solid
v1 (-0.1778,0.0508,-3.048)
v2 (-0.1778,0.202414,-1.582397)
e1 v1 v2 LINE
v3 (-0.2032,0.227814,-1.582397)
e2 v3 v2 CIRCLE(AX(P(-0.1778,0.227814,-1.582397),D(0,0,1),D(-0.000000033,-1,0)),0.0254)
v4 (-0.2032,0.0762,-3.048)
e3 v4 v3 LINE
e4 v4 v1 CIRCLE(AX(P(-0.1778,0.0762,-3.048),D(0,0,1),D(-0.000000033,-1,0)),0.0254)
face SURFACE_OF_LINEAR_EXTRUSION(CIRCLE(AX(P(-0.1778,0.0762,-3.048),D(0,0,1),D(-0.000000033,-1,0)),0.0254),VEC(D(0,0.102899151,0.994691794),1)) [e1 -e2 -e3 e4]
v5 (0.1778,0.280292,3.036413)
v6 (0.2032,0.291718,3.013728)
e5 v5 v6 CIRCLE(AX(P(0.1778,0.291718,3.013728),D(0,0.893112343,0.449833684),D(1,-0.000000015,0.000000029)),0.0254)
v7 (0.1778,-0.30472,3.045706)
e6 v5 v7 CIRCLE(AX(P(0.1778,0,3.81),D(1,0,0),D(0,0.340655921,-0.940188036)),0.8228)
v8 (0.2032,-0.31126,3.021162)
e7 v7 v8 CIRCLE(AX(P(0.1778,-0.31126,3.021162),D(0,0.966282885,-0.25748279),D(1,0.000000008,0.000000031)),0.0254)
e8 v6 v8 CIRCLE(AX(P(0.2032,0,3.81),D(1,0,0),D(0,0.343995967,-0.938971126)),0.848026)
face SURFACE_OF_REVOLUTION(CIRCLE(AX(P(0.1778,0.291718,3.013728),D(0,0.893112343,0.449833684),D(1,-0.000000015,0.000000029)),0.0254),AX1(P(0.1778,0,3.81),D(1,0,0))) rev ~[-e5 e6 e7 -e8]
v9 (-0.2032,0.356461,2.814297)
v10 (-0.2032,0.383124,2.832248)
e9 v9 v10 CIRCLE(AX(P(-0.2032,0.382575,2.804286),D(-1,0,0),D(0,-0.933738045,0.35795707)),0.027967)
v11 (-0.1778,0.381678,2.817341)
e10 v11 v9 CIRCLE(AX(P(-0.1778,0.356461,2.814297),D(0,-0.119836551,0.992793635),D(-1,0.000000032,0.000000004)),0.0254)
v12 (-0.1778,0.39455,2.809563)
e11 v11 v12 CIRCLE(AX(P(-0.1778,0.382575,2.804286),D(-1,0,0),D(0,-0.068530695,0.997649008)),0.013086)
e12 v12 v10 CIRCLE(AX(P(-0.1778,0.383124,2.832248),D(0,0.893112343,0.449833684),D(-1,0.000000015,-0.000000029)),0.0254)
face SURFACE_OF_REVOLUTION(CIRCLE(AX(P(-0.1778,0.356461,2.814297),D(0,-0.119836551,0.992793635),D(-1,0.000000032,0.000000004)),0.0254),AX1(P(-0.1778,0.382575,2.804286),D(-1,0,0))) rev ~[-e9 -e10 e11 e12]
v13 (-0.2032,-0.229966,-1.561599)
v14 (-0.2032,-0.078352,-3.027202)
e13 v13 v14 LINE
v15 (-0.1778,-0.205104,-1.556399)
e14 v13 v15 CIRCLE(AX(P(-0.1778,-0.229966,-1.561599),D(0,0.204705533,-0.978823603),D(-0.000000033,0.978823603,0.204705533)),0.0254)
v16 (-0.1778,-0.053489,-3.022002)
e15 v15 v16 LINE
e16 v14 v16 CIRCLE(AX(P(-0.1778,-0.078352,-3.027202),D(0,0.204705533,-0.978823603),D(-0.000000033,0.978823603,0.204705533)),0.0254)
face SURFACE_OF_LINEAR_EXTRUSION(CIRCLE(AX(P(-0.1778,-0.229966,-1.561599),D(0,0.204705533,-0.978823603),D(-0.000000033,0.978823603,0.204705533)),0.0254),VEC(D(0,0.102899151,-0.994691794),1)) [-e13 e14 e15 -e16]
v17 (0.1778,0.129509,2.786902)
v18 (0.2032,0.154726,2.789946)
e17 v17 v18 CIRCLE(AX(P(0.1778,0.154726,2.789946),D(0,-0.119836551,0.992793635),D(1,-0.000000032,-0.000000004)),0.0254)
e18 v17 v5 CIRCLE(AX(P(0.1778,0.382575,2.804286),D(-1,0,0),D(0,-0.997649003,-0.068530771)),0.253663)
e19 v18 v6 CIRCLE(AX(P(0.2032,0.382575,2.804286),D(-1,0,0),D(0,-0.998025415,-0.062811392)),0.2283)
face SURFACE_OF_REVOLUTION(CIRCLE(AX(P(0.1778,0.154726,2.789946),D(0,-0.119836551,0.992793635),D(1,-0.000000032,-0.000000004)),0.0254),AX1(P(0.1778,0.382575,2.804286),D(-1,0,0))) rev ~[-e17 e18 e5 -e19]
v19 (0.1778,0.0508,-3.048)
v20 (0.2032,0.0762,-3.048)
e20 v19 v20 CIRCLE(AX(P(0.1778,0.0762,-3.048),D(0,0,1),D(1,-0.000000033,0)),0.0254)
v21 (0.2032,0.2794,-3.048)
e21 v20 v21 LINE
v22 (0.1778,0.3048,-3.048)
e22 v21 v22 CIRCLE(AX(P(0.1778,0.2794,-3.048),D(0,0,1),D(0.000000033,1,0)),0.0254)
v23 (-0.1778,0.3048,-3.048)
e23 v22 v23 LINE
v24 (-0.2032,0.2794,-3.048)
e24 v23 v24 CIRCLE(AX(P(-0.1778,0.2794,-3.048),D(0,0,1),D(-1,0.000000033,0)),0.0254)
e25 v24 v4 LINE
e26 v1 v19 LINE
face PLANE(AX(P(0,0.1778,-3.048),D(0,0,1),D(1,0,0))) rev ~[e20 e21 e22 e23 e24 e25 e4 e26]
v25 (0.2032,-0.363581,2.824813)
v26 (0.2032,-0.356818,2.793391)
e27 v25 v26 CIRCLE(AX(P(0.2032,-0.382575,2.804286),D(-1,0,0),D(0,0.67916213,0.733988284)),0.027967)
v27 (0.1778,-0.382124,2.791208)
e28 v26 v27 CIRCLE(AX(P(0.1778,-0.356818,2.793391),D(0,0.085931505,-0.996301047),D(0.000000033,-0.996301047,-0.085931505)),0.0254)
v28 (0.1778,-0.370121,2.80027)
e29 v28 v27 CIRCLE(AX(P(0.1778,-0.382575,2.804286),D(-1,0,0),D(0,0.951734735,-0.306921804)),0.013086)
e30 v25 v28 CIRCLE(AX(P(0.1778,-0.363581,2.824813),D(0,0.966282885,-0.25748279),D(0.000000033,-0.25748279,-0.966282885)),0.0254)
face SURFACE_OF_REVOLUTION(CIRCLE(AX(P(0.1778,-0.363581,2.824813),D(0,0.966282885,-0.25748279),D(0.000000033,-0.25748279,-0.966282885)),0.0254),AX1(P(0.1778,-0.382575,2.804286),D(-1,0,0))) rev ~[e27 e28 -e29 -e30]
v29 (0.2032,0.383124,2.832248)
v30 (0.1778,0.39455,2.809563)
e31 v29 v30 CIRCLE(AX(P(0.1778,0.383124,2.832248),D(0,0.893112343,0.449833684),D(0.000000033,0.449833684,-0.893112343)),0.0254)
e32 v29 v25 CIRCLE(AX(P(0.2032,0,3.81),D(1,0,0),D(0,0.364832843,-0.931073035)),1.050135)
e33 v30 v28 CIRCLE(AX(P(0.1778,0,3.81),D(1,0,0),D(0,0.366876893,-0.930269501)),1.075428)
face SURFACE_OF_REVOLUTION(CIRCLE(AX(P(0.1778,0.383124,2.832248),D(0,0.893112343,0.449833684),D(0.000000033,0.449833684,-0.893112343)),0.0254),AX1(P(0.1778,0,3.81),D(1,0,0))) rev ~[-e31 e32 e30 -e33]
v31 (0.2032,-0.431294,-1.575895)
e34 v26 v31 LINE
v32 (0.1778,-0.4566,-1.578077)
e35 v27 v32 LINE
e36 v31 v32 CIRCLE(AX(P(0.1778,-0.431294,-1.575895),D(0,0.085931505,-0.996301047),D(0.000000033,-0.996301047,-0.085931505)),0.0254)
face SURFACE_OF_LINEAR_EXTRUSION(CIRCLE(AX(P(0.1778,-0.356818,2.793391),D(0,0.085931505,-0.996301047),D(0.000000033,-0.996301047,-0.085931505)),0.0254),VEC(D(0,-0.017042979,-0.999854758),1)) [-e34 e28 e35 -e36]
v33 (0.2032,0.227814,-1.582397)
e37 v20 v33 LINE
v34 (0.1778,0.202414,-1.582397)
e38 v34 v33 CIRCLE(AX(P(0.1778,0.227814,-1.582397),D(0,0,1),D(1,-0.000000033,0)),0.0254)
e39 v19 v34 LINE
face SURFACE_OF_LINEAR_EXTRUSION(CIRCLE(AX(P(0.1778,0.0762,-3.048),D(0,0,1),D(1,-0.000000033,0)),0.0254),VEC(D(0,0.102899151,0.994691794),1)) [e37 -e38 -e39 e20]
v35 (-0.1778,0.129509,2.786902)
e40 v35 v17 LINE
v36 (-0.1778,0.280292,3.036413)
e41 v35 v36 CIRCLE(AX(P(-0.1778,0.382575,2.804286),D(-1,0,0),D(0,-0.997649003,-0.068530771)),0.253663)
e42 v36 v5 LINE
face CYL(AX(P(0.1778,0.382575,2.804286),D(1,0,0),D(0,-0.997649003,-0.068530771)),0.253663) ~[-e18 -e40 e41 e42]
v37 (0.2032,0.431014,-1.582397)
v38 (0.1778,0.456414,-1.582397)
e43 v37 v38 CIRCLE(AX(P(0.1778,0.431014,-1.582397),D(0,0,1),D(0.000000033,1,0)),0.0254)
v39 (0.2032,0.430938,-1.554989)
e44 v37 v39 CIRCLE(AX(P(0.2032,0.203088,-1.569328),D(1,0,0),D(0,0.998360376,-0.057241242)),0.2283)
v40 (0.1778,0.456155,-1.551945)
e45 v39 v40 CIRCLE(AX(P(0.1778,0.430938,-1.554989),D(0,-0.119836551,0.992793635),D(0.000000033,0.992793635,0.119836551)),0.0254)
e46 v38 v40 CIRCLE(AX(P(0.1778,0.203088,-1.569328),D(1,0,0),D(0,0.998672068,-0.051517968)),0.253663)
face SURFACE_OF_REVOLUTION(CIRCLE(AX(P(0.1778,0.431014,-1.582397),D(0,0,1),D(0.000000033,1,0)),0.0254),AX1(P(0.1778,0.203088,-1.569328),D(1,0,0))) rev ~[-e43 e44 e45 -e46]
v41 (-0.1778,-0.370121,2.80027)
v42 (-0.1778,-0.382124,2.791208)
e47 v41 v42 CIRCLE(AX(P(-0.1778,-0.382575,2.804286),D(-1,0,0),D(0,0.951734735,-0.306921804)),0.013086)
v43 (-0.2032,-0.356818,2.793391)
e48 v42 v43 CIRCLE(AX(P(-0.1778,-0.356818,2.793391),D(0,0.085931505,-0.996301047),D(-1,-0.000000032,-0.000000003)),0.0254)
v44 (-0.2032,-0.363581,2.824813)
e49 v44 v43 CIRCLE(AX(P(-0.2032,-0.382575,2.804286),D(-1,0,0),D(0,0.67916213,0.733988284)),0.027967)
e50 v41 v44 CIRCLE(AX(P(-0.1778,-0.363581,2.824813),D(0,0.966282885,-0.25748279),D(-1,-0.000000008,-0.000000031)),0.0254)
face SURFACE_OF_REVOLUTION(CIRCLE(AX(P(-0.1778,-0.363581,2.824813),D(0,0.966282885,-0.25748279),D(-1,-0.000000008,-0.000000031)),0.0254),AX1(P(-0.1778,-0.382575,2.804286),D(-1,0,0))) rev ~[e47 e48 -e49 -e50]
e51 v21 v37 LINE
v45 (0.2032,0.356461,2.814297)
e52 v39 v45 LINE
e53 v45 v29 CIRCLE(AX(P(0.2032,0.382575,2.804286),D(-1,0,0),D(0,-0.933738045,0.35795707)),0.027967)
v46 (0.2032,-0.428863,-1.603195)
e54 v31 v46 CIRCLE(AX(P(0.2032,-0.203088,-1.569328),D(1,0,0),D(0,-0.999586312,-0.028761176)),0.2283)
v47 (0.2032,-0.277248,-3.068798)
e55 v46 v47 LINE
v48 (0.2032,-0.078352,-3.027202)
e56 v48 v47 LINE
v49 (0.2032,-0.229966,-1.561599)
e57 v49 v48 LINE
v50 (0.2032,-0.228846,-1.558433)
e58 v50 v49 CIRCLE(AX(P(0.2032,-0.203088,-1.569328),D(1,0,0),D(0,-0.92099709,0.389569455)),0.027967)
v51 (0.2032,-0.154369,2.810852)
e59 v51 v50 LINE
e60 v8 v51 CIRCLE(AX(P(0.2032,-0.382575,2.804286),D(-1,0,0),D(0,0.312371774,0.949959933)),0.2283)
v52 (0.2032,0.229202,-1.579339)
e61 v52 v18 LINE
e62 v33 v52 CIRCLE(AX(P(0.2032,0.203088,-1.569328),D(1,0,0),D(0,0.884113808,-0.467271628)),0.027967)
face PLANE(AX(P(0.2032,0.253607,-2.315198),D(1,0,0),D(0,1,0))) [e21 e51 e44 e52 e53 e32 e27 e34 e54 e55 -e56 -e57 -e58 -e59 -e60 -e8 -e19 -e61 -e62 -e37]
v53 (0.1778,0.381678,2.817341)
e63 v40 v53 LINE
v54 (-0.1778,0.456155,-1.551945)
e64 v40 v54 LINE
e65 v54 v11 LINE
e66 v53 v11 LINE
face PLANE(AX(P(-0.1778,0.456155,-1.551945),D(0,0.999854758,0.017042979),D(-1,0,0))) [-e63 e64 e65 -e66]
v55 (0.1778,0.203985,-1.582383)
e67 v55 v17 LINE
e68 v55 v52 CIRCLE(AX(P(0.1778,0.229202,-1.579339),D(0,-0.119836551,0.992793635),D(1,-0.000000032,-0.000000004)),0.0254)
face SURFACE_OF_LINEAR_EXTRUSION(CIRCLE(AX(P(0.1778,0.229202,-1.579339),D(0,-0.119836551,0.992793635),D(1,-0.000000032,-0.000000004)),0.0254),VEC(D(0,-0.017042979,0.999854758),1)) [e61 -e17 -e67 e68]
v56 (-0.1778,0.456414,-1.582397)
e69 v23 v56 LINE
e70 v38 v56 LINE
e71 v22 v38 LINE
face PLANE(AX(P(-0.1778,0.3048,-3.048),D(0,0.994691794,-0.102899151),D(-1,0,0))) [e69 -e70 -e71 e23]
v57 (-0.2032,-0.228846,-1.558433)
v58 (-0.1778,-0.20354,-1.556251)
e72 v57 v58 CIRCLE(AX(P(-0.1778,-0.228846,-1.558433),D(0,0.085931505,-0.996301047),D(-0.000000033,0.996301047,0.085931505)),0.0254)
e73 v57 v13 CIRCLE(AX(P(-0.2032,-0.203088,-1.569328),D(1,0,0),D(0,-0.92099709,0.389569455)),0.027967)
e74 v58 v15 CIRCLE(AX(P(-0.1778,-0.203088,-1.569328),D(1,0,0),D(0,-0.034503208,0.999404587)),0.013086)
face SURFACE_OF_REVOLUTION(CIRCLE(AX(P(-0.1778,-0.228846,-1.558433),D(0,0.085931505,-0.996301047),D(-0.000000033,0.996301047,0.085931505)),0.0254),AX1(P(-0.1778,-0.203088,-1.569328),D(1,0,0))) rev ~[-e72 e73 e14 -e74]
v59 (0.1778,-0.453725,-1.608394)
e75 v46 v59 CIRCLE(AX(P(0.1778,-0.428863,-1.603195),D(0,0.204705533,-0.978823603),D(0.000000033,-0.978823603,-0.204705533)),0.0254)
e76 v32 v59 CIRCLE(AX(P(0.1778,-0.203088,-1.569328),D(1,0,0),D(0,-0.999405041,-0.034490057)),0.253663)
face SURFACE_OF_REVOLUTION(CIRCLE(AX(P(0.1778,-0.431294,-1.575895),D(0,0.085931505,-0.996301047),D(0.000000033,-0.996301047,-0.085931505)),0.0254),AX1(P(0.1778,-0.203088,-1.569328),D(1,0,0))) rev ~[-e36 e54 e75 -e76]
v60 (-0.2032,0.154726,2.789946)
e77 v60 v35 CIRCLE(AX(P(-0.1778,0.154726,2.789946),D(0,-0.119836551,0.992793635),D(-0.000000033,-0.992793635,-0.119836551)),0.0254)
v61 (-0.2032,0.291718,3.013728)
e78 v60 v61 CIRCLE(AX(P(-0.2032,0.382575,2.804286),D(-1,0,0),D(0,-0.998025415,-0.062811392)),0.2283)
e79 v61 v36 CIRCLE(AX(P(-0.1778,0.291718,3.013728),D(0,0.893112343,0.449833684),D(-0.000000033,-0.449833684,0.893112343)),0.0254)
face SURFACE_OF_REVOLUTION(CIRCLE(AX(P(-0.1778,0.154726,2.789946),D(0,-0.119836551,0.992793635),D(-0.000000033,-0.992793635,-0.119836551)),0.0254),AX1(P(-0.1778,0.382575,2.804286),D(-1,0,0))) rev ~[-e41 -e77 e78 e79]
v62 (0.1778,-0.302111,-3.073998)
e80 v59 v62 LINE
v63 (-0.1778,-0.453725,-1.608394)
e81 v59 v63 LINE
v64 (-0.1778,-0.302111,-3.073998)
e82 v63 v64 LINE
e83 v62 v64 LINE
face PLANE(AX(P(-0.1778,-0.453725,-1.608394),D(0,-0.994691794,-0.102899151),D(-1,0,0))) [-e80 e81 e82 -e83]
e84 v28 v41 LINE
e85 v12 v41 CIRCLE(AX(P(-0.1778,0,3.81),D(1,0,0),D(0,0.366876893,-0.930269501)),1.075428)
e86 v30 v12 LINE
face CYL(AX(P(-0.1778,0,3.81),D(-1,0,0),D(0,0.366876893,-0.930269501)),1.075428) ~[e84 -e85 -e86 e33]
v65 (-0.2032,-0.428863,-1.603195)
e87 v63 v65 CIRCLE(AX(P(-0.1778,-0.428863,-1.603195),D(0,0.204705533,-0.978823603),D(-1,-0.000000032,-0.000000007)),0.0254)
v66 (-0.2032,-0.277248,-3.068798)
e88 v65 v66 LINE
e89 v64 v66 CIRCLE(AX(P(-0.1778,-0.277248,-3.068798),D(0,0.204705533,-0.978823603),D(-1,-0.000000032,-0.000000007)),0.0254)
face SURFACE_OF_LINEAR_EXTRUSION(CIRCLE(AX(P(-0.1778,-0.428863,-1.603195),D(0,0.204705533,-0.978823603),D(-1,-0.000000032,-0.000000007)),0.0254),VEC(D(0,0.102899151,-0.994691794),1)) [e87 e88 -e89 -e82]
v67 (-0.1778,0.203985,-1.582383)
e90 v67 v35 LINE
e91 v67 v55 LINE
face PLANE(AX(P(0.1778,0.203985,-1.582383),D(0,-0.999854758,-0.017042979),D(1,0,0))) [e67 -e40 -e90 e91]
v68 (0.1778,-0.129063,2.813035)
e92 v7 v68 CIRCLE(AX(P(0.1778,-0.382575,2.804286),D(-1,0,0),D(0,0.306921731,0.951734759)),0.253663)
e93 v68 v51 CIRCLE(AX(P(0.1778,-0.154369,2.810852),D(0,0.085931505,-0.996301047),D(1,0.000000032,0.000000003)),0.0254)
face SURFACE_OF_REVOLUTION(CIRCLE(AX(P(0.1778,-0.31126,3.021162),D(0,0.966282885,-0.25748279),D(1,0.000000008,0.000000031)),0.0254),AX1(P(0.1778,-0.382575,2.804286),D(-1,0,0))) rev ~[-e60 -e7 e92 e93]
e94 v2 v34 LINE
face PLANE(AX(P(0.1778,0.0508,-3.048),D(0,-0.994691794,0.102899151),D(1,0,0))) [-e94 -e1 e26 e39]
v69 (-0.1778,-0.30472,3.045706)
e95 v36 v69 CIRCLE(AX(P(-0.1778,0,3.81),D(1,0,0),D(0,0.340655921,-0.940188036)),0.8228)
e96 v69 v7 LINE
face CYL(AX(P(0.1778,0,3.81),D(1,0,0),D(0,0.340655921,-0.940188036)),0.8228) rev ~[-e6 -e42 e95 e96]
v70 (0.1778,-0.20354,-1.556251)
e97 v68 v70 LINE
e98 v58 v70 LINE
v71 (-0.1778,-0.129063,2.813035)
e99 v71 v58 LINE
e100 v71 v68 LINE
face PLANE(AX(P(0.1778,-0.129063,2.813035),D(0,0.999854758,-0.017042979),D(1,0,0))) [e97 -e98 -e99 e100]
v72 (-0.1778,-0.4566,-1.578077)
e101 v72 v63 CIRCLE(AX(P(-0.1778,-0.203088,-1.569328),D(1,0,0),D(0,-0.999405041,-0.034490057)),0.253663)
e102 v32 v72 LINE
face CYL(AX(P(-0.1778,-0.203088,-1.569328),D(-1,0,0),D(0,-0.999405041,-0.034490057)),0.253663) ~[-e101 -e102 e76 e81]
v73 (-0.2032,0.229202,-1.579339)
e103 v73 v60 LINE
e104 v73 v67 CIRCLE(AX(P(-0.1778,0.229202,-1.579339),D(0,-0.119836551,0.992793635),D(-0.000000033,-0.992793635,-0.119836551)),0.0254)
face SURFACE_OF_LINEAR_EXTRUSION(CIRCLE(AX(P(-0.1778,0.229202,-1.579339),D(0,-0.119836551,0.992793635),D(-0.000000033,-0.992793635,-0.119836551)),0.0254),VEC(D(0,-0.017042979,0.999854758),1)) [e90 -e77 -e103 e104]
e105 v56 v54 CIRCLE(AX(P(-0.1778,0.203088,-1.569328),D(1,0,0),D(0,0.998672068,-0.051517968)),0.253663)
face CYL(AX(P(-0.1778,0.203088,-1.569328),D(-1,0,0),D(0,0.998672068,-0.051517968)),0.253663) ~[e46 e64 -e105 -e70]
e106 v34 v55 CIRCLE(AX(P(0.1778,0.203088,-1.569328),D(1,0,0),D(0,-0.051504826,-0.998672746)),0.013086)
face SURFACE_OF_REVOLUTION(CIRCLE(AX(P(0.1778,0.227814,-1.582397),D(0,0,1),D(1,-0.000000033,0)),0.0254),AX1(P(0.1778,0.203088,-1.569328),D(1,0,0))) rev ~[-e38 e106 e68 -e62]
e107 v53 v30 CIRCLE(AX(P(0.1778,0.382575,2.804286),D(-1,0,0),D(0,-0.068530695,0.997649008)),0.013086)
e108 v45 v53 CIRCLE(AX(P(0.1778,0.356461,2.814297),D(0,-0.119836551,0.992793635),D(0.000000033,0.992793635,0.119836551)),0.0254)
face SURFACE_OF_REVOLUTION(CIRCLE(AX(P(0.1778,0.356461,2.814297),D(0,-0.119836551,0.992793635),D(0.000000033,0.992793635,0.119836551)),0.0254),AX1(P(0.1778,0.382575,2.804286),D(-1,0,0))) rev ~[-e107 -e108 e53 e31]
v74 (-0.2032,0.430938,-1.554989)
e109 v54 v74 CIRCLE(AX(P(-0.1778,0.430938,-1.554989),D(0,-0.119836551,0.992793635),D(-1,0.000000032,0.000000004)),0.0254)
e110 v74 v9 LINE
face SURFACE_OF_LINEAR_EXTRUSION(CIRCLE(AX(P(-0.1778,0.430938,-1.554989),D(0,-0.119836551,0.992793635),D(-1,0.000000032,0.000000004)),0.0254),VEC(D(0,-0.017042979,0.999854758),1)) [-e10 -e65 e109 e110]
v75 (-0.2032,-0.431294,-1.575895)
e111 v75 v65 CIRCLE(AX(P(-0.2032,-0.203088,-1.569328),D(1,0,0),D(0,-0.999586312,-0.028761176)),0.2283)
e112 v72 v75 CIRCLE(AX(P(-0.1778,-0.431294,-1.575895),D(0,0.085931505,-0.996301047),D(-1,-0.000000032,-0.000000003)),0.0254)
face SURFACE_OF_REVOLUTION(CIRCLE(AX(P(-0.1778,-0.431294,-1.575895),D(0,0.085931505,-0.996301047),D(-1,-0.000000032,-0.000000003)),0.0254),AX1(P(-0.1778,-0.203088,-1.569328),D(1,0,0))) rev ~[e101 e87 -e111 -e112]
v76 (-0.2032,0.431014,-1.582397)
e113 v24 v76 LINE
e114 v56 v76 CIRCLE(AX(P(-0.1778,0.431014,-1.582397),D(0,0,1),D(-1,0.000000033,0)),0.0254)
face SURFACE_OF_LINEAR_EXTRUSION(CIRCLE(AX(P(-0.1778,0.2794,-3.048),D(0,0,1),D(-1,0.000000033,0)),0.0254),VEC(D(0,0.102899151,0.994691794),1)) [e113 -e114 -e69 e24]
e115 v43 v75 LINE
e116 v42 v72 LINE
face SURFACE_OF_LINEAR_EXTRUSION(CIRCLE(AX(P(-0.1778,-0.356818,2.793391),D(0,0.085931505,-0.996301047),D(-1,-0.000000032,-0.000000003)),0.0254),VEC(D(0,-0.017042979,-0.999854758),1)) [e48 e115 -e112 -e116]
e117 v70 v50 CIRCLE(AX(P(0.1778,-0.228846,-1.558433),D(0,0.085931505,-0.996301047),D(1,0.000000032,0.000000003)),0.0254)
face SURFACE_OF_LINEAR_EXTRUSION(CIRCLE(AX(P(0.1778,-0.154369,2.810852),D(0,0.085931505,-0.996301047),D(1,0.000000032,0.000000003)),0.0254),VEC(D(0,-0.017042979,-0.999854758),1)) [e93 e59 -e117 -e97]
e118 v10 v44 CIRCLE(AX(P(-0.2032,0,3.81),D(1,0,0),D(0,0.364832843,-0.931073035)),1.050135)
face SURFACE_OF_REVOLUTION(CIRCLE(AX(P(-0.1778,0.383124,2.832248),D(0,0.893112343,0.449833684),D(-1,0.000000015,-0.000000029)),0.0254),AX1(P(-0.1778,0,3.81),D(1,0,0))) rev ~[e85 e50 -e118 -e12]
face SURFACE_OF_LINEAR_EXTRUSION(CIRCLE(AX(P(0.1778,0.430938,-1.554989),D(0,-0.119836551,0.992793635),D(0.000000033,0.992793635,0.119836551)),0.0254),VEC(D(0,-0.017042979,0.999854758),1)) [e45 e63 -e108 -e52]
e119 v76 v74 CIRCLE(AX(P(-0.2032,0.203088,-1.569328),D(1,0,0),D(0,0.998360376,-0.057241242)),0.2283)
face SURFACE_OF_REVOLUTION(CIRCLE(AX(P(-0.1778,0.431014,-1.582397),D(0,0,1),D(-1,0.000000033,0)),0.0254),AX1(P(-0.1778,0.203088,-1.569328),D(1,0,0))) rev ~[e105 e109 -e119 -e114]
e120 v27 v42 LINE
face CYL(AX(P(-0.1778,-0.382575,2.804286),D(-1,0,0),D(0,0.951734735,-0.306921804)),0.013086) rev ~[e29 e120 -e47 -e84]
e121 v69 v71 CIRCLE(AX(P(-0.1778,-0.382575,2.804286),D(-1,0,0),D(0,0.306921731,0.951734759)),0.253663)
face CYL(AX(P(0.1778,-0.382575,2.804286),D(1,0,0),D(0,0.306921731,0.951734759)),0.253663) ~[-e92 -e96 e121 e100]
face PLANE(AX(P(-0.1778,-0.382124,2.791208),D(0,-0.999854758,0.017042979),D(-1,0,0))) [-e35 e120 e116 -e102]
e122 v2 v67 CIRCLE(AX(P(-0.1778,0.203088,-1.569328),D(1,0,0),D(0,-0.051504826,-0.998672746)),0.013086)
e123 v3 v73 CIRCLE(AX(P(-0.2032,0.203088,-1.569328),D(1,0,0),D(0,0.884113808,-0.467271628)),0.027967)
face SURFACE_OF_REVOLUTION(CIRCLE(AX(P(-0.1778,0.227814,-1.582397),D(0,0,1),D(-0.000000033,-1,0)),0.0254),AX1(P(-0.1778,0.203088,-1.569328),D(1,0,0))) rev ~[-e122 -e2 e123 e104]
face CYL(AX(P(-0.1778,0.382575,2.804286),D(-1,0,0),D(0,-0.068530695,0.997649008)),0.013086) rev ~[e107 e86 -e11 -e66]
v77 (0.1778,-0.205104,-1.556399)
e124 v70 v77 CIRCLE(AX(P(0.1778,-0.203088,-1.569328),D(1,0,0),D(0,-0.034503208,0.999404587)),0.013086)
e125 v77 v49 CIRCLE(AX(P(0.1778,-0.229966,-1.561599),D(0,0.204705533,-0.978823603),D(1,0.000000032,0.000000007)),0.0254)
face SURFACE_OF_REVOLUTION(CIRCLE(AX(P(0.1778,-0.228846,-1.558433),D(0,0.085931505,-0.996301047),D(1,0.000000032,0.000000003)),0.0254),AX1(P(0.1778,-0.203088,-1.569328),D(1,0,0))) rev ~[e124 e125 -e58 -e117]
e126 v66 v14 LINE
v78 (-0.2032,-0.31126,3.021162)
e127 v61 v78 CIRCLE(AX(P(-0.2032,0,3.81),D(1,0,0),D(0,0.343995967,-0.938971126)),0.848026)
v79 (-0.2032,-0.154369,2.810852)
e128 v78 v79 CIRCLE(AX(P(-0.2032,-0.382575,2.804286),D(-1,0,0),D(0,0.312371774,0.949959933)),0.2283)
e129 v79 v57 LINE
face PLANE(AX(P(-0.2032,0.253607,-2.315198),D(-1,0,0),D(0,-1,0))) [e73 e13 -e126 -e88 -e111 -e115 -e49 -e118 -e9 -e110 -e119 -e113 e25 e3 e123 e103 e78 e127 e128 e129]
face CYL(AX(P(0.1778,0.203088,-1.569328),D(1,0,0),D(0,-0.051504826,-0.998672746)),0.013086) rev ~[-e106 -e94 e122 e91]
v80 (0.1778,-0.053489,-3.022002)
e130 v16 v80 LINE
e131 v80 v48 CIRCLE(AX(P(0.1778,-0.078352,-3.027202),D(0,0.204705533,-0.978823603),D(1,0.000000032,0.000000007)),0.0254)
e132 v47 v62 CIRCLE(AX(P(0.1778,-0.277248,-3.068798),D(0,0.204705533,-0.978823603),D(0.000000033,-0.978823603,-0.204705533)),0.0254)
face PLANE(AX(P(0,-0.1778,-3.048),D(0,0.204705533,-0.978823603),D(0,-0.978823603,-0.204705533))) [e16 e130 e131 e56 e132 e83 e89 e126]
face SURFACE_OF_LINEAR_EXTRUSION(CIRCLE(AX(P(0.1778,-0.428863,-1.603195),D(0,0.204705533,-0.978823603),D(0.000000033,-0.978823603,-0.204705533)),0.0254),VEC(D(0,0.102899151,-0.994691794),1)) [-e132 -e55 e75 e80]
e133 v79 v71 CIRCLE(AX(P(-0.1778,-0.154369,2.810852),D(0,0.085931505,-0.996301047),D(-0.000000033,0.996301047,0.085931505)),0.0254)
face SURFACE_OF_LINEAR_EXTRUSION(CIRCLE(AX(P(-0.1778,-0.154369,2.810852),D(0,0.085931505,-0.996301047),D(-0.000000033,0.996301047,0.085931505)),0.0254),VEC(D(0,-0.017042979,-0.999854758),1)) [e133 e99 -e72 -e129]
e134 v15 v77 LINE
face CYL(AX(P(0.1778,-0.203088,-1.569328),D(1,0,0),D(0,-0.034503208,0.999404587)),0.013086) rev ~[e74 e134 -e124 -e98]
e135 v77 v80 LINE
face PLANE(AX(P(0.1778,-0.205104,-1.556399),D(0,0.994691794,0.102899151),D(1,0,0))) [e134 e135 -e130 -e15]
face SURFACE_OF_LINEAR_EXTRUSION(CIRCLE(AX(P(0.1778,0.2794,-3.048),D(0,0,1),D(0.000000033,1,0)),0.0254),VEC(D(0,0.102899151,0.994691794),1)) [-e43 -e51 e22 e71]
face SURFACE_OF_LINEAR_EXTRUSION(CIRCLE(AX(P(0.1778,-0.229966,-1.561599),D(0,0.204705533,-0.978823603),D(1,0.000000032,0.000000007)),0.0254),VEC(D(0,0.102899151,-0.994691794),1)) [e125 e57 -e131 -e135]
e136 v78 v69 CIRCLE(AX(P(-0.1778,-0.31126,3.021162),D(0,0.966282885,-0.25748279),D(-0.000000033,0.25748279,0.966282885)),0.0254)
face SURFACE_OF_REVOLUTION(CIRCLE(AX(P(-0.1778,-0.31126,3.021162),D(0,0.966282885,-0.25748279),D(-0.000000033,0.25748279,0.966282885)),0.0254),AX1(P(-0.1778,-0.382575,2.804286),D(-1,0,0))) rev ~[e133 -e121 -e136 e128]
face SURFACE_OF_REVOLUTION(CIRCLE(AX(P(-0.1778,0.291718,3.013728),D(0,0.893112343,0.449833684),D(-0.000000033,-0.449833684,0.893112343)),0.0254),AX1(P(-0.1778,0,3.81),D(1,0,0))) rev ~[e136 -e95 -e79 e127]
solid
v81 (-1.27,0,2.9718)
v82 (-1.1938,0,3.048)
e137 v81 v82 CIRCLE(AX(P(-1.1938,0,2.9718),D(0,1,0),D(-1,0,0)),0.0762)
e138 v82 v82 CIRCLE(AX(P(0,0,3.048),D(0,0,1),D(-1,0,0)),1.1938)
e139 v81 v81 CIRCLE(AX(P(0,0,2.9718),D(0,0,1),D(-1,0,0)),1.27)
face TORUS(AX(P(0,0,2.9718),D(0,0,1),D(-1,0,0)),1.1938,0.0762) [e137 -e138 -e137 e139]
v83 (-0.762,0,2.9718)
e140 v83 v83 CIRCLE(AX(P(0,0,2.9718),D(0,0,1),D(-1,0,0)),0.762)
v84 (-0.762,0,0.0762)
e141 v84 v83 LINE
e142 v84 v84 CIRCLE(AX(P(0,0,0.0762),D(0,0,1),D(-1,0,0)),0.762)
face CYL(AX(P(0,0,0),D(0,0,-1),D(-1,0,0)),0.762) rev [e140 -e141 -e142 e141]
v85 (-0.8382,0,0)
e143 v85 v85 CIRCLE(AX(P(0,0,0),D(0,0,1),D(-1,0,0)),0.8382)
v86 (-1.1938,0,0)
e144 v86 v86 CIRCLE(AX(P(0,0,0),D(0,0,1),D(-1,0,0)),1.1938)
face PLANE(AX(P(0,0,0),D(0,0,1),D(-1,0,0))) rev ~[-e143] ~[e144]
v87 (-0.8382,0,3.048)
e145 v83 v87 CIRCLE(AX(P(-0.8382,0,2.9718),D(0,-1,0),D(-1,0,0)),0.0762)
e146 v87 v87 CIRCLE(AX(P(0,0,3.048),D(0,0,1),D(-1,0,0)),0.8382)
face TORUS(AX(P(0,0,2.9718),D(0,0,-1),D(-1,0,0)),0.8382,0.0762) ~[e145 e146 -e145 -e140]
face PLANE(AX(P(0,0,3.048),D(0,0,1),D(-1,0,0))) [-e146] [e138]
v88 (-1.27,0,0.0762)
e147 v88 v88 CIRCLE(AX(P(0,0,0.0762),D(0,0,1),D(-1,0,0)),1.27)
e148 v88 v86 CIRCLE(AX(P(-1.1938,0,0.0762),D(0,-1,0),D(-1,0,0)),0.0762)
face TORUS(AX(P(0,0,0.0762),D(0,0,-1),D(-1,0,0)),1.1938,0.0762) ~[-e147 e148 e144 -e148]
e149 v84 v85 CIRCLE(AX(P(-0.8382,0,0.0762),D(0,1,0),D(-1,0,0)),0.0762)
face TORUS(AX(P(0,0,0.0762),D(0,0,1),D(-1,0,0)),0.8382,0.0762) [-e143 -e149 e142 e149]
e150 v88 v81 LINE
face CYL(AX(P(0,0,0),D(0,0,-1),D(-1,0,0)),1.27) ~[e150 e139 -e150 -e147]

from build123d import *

# Parameters (mm, degrees)
SKETCH1_R          = 1.27
SKETCH1_R_2        = 0.762
PLASTIC_RING_DEPTH = 3.048
FILLET1_R          = 0.0762


with BuildPart() as part:
    # Sketch1 → Plastic-Ring (new body)
    with BuildSketch(Plane.XY):
        with Locations(Location((0, 0, 0), (0, 0, 180))):
            Circle(SKETCH1_R)
        with Locations(Location((0, 0, 0), (0, 0, 180))):
            Circle(SKETCH1_R_2, mode=Mode.SUBTRACT)
    extrude(amount=PLASTIC_RING_DEPTH)

    # Fillet1
    fillet1_edges = [part.edges().sort_by_distance(p)[0] for p in [
        (1.27, 0, 0),
        (1.27, 0, 3.048),
        (0.762, 0, 0),
        (0.762, 0, 3.048),
    ]]
    fillet(fillet1_edges, radius=FILLET1_R)


with BuildPart() as body_2:
    # Sweep3: sweep along a path in wire-bend
    with BuildLine(Plane(origin=(0, 0, 0), x_dir=(0, 0, -1), z_dir=(1, 0, 0))) as sweep3_path:
        Line((3.048, 0.1778), (1.58239661, 0.329414144))
        ThreePointArc((1.58239661, 0.329414144), (1.574790134, 0.329970789), (1.56716396, 0.33006984))
        Line((1.56716396, 0.33006984), (-2.802121642, 0.255593381))
        ThreePointArc((-2.802121642, 0.255593381), (-2.875484113, 0.277409147), (-2.922987788, 0.337420652))
        ThreePointArc((-2.922987788, 0.337420652), (-4.759022318, 0), (-2.922987788, -0.337420652))
        ThreePointArc((-2.922987788, -0.337420652), (-2.875484113, -0.277409147), (-2.802121642, -0.255593381))
        Line((-2.802121642, -0.255593381), (1.56716396, -0.33006984))
        ThreePointArc((1.56716396, -0.33006984), (1.574790134, -0.329970789), (1.58239661, -0.329414144))
        Line((1.58239661, -0.329414144), (3.048, -0.1778))
    # wire-profile → Sweep3 (sweep)
    with BuildSketch(Plane.XY.offset(-3.048)):
        with BuildLine():
            Line((-0.1778, 0.3048), (0.1778, 0.3048))
            ThreePointArc((0.1778, 0.3048), (0.195760512, 0.297360512), (0.2032, 0.2794))
            Line((0.2032, 0.2794), (0.2032, 0.0762))
            ThreePointArc((0.2032, 0.0762), (0.195760512, 0.058239488), (0.1778, 0.0508))
            Line((0.1778, 0.0508), (-0.1778, 0.0508))
            ThreePointArc((-0.1778, 0.0508), (-0.195760512, 0.058239488), (-0.2032, 0.0762))
            Line((-0.2032, 0.0762), (-0.2032, 0.2794))
            ThreePointArc((-0.2032, 0.2794), (-0.195760512, 0.297360512), (-0.1778, 0.3048))
        make_face()
    sweep(path=sweep3_path.line)


solid = Compound([part.part, body_2.part])
